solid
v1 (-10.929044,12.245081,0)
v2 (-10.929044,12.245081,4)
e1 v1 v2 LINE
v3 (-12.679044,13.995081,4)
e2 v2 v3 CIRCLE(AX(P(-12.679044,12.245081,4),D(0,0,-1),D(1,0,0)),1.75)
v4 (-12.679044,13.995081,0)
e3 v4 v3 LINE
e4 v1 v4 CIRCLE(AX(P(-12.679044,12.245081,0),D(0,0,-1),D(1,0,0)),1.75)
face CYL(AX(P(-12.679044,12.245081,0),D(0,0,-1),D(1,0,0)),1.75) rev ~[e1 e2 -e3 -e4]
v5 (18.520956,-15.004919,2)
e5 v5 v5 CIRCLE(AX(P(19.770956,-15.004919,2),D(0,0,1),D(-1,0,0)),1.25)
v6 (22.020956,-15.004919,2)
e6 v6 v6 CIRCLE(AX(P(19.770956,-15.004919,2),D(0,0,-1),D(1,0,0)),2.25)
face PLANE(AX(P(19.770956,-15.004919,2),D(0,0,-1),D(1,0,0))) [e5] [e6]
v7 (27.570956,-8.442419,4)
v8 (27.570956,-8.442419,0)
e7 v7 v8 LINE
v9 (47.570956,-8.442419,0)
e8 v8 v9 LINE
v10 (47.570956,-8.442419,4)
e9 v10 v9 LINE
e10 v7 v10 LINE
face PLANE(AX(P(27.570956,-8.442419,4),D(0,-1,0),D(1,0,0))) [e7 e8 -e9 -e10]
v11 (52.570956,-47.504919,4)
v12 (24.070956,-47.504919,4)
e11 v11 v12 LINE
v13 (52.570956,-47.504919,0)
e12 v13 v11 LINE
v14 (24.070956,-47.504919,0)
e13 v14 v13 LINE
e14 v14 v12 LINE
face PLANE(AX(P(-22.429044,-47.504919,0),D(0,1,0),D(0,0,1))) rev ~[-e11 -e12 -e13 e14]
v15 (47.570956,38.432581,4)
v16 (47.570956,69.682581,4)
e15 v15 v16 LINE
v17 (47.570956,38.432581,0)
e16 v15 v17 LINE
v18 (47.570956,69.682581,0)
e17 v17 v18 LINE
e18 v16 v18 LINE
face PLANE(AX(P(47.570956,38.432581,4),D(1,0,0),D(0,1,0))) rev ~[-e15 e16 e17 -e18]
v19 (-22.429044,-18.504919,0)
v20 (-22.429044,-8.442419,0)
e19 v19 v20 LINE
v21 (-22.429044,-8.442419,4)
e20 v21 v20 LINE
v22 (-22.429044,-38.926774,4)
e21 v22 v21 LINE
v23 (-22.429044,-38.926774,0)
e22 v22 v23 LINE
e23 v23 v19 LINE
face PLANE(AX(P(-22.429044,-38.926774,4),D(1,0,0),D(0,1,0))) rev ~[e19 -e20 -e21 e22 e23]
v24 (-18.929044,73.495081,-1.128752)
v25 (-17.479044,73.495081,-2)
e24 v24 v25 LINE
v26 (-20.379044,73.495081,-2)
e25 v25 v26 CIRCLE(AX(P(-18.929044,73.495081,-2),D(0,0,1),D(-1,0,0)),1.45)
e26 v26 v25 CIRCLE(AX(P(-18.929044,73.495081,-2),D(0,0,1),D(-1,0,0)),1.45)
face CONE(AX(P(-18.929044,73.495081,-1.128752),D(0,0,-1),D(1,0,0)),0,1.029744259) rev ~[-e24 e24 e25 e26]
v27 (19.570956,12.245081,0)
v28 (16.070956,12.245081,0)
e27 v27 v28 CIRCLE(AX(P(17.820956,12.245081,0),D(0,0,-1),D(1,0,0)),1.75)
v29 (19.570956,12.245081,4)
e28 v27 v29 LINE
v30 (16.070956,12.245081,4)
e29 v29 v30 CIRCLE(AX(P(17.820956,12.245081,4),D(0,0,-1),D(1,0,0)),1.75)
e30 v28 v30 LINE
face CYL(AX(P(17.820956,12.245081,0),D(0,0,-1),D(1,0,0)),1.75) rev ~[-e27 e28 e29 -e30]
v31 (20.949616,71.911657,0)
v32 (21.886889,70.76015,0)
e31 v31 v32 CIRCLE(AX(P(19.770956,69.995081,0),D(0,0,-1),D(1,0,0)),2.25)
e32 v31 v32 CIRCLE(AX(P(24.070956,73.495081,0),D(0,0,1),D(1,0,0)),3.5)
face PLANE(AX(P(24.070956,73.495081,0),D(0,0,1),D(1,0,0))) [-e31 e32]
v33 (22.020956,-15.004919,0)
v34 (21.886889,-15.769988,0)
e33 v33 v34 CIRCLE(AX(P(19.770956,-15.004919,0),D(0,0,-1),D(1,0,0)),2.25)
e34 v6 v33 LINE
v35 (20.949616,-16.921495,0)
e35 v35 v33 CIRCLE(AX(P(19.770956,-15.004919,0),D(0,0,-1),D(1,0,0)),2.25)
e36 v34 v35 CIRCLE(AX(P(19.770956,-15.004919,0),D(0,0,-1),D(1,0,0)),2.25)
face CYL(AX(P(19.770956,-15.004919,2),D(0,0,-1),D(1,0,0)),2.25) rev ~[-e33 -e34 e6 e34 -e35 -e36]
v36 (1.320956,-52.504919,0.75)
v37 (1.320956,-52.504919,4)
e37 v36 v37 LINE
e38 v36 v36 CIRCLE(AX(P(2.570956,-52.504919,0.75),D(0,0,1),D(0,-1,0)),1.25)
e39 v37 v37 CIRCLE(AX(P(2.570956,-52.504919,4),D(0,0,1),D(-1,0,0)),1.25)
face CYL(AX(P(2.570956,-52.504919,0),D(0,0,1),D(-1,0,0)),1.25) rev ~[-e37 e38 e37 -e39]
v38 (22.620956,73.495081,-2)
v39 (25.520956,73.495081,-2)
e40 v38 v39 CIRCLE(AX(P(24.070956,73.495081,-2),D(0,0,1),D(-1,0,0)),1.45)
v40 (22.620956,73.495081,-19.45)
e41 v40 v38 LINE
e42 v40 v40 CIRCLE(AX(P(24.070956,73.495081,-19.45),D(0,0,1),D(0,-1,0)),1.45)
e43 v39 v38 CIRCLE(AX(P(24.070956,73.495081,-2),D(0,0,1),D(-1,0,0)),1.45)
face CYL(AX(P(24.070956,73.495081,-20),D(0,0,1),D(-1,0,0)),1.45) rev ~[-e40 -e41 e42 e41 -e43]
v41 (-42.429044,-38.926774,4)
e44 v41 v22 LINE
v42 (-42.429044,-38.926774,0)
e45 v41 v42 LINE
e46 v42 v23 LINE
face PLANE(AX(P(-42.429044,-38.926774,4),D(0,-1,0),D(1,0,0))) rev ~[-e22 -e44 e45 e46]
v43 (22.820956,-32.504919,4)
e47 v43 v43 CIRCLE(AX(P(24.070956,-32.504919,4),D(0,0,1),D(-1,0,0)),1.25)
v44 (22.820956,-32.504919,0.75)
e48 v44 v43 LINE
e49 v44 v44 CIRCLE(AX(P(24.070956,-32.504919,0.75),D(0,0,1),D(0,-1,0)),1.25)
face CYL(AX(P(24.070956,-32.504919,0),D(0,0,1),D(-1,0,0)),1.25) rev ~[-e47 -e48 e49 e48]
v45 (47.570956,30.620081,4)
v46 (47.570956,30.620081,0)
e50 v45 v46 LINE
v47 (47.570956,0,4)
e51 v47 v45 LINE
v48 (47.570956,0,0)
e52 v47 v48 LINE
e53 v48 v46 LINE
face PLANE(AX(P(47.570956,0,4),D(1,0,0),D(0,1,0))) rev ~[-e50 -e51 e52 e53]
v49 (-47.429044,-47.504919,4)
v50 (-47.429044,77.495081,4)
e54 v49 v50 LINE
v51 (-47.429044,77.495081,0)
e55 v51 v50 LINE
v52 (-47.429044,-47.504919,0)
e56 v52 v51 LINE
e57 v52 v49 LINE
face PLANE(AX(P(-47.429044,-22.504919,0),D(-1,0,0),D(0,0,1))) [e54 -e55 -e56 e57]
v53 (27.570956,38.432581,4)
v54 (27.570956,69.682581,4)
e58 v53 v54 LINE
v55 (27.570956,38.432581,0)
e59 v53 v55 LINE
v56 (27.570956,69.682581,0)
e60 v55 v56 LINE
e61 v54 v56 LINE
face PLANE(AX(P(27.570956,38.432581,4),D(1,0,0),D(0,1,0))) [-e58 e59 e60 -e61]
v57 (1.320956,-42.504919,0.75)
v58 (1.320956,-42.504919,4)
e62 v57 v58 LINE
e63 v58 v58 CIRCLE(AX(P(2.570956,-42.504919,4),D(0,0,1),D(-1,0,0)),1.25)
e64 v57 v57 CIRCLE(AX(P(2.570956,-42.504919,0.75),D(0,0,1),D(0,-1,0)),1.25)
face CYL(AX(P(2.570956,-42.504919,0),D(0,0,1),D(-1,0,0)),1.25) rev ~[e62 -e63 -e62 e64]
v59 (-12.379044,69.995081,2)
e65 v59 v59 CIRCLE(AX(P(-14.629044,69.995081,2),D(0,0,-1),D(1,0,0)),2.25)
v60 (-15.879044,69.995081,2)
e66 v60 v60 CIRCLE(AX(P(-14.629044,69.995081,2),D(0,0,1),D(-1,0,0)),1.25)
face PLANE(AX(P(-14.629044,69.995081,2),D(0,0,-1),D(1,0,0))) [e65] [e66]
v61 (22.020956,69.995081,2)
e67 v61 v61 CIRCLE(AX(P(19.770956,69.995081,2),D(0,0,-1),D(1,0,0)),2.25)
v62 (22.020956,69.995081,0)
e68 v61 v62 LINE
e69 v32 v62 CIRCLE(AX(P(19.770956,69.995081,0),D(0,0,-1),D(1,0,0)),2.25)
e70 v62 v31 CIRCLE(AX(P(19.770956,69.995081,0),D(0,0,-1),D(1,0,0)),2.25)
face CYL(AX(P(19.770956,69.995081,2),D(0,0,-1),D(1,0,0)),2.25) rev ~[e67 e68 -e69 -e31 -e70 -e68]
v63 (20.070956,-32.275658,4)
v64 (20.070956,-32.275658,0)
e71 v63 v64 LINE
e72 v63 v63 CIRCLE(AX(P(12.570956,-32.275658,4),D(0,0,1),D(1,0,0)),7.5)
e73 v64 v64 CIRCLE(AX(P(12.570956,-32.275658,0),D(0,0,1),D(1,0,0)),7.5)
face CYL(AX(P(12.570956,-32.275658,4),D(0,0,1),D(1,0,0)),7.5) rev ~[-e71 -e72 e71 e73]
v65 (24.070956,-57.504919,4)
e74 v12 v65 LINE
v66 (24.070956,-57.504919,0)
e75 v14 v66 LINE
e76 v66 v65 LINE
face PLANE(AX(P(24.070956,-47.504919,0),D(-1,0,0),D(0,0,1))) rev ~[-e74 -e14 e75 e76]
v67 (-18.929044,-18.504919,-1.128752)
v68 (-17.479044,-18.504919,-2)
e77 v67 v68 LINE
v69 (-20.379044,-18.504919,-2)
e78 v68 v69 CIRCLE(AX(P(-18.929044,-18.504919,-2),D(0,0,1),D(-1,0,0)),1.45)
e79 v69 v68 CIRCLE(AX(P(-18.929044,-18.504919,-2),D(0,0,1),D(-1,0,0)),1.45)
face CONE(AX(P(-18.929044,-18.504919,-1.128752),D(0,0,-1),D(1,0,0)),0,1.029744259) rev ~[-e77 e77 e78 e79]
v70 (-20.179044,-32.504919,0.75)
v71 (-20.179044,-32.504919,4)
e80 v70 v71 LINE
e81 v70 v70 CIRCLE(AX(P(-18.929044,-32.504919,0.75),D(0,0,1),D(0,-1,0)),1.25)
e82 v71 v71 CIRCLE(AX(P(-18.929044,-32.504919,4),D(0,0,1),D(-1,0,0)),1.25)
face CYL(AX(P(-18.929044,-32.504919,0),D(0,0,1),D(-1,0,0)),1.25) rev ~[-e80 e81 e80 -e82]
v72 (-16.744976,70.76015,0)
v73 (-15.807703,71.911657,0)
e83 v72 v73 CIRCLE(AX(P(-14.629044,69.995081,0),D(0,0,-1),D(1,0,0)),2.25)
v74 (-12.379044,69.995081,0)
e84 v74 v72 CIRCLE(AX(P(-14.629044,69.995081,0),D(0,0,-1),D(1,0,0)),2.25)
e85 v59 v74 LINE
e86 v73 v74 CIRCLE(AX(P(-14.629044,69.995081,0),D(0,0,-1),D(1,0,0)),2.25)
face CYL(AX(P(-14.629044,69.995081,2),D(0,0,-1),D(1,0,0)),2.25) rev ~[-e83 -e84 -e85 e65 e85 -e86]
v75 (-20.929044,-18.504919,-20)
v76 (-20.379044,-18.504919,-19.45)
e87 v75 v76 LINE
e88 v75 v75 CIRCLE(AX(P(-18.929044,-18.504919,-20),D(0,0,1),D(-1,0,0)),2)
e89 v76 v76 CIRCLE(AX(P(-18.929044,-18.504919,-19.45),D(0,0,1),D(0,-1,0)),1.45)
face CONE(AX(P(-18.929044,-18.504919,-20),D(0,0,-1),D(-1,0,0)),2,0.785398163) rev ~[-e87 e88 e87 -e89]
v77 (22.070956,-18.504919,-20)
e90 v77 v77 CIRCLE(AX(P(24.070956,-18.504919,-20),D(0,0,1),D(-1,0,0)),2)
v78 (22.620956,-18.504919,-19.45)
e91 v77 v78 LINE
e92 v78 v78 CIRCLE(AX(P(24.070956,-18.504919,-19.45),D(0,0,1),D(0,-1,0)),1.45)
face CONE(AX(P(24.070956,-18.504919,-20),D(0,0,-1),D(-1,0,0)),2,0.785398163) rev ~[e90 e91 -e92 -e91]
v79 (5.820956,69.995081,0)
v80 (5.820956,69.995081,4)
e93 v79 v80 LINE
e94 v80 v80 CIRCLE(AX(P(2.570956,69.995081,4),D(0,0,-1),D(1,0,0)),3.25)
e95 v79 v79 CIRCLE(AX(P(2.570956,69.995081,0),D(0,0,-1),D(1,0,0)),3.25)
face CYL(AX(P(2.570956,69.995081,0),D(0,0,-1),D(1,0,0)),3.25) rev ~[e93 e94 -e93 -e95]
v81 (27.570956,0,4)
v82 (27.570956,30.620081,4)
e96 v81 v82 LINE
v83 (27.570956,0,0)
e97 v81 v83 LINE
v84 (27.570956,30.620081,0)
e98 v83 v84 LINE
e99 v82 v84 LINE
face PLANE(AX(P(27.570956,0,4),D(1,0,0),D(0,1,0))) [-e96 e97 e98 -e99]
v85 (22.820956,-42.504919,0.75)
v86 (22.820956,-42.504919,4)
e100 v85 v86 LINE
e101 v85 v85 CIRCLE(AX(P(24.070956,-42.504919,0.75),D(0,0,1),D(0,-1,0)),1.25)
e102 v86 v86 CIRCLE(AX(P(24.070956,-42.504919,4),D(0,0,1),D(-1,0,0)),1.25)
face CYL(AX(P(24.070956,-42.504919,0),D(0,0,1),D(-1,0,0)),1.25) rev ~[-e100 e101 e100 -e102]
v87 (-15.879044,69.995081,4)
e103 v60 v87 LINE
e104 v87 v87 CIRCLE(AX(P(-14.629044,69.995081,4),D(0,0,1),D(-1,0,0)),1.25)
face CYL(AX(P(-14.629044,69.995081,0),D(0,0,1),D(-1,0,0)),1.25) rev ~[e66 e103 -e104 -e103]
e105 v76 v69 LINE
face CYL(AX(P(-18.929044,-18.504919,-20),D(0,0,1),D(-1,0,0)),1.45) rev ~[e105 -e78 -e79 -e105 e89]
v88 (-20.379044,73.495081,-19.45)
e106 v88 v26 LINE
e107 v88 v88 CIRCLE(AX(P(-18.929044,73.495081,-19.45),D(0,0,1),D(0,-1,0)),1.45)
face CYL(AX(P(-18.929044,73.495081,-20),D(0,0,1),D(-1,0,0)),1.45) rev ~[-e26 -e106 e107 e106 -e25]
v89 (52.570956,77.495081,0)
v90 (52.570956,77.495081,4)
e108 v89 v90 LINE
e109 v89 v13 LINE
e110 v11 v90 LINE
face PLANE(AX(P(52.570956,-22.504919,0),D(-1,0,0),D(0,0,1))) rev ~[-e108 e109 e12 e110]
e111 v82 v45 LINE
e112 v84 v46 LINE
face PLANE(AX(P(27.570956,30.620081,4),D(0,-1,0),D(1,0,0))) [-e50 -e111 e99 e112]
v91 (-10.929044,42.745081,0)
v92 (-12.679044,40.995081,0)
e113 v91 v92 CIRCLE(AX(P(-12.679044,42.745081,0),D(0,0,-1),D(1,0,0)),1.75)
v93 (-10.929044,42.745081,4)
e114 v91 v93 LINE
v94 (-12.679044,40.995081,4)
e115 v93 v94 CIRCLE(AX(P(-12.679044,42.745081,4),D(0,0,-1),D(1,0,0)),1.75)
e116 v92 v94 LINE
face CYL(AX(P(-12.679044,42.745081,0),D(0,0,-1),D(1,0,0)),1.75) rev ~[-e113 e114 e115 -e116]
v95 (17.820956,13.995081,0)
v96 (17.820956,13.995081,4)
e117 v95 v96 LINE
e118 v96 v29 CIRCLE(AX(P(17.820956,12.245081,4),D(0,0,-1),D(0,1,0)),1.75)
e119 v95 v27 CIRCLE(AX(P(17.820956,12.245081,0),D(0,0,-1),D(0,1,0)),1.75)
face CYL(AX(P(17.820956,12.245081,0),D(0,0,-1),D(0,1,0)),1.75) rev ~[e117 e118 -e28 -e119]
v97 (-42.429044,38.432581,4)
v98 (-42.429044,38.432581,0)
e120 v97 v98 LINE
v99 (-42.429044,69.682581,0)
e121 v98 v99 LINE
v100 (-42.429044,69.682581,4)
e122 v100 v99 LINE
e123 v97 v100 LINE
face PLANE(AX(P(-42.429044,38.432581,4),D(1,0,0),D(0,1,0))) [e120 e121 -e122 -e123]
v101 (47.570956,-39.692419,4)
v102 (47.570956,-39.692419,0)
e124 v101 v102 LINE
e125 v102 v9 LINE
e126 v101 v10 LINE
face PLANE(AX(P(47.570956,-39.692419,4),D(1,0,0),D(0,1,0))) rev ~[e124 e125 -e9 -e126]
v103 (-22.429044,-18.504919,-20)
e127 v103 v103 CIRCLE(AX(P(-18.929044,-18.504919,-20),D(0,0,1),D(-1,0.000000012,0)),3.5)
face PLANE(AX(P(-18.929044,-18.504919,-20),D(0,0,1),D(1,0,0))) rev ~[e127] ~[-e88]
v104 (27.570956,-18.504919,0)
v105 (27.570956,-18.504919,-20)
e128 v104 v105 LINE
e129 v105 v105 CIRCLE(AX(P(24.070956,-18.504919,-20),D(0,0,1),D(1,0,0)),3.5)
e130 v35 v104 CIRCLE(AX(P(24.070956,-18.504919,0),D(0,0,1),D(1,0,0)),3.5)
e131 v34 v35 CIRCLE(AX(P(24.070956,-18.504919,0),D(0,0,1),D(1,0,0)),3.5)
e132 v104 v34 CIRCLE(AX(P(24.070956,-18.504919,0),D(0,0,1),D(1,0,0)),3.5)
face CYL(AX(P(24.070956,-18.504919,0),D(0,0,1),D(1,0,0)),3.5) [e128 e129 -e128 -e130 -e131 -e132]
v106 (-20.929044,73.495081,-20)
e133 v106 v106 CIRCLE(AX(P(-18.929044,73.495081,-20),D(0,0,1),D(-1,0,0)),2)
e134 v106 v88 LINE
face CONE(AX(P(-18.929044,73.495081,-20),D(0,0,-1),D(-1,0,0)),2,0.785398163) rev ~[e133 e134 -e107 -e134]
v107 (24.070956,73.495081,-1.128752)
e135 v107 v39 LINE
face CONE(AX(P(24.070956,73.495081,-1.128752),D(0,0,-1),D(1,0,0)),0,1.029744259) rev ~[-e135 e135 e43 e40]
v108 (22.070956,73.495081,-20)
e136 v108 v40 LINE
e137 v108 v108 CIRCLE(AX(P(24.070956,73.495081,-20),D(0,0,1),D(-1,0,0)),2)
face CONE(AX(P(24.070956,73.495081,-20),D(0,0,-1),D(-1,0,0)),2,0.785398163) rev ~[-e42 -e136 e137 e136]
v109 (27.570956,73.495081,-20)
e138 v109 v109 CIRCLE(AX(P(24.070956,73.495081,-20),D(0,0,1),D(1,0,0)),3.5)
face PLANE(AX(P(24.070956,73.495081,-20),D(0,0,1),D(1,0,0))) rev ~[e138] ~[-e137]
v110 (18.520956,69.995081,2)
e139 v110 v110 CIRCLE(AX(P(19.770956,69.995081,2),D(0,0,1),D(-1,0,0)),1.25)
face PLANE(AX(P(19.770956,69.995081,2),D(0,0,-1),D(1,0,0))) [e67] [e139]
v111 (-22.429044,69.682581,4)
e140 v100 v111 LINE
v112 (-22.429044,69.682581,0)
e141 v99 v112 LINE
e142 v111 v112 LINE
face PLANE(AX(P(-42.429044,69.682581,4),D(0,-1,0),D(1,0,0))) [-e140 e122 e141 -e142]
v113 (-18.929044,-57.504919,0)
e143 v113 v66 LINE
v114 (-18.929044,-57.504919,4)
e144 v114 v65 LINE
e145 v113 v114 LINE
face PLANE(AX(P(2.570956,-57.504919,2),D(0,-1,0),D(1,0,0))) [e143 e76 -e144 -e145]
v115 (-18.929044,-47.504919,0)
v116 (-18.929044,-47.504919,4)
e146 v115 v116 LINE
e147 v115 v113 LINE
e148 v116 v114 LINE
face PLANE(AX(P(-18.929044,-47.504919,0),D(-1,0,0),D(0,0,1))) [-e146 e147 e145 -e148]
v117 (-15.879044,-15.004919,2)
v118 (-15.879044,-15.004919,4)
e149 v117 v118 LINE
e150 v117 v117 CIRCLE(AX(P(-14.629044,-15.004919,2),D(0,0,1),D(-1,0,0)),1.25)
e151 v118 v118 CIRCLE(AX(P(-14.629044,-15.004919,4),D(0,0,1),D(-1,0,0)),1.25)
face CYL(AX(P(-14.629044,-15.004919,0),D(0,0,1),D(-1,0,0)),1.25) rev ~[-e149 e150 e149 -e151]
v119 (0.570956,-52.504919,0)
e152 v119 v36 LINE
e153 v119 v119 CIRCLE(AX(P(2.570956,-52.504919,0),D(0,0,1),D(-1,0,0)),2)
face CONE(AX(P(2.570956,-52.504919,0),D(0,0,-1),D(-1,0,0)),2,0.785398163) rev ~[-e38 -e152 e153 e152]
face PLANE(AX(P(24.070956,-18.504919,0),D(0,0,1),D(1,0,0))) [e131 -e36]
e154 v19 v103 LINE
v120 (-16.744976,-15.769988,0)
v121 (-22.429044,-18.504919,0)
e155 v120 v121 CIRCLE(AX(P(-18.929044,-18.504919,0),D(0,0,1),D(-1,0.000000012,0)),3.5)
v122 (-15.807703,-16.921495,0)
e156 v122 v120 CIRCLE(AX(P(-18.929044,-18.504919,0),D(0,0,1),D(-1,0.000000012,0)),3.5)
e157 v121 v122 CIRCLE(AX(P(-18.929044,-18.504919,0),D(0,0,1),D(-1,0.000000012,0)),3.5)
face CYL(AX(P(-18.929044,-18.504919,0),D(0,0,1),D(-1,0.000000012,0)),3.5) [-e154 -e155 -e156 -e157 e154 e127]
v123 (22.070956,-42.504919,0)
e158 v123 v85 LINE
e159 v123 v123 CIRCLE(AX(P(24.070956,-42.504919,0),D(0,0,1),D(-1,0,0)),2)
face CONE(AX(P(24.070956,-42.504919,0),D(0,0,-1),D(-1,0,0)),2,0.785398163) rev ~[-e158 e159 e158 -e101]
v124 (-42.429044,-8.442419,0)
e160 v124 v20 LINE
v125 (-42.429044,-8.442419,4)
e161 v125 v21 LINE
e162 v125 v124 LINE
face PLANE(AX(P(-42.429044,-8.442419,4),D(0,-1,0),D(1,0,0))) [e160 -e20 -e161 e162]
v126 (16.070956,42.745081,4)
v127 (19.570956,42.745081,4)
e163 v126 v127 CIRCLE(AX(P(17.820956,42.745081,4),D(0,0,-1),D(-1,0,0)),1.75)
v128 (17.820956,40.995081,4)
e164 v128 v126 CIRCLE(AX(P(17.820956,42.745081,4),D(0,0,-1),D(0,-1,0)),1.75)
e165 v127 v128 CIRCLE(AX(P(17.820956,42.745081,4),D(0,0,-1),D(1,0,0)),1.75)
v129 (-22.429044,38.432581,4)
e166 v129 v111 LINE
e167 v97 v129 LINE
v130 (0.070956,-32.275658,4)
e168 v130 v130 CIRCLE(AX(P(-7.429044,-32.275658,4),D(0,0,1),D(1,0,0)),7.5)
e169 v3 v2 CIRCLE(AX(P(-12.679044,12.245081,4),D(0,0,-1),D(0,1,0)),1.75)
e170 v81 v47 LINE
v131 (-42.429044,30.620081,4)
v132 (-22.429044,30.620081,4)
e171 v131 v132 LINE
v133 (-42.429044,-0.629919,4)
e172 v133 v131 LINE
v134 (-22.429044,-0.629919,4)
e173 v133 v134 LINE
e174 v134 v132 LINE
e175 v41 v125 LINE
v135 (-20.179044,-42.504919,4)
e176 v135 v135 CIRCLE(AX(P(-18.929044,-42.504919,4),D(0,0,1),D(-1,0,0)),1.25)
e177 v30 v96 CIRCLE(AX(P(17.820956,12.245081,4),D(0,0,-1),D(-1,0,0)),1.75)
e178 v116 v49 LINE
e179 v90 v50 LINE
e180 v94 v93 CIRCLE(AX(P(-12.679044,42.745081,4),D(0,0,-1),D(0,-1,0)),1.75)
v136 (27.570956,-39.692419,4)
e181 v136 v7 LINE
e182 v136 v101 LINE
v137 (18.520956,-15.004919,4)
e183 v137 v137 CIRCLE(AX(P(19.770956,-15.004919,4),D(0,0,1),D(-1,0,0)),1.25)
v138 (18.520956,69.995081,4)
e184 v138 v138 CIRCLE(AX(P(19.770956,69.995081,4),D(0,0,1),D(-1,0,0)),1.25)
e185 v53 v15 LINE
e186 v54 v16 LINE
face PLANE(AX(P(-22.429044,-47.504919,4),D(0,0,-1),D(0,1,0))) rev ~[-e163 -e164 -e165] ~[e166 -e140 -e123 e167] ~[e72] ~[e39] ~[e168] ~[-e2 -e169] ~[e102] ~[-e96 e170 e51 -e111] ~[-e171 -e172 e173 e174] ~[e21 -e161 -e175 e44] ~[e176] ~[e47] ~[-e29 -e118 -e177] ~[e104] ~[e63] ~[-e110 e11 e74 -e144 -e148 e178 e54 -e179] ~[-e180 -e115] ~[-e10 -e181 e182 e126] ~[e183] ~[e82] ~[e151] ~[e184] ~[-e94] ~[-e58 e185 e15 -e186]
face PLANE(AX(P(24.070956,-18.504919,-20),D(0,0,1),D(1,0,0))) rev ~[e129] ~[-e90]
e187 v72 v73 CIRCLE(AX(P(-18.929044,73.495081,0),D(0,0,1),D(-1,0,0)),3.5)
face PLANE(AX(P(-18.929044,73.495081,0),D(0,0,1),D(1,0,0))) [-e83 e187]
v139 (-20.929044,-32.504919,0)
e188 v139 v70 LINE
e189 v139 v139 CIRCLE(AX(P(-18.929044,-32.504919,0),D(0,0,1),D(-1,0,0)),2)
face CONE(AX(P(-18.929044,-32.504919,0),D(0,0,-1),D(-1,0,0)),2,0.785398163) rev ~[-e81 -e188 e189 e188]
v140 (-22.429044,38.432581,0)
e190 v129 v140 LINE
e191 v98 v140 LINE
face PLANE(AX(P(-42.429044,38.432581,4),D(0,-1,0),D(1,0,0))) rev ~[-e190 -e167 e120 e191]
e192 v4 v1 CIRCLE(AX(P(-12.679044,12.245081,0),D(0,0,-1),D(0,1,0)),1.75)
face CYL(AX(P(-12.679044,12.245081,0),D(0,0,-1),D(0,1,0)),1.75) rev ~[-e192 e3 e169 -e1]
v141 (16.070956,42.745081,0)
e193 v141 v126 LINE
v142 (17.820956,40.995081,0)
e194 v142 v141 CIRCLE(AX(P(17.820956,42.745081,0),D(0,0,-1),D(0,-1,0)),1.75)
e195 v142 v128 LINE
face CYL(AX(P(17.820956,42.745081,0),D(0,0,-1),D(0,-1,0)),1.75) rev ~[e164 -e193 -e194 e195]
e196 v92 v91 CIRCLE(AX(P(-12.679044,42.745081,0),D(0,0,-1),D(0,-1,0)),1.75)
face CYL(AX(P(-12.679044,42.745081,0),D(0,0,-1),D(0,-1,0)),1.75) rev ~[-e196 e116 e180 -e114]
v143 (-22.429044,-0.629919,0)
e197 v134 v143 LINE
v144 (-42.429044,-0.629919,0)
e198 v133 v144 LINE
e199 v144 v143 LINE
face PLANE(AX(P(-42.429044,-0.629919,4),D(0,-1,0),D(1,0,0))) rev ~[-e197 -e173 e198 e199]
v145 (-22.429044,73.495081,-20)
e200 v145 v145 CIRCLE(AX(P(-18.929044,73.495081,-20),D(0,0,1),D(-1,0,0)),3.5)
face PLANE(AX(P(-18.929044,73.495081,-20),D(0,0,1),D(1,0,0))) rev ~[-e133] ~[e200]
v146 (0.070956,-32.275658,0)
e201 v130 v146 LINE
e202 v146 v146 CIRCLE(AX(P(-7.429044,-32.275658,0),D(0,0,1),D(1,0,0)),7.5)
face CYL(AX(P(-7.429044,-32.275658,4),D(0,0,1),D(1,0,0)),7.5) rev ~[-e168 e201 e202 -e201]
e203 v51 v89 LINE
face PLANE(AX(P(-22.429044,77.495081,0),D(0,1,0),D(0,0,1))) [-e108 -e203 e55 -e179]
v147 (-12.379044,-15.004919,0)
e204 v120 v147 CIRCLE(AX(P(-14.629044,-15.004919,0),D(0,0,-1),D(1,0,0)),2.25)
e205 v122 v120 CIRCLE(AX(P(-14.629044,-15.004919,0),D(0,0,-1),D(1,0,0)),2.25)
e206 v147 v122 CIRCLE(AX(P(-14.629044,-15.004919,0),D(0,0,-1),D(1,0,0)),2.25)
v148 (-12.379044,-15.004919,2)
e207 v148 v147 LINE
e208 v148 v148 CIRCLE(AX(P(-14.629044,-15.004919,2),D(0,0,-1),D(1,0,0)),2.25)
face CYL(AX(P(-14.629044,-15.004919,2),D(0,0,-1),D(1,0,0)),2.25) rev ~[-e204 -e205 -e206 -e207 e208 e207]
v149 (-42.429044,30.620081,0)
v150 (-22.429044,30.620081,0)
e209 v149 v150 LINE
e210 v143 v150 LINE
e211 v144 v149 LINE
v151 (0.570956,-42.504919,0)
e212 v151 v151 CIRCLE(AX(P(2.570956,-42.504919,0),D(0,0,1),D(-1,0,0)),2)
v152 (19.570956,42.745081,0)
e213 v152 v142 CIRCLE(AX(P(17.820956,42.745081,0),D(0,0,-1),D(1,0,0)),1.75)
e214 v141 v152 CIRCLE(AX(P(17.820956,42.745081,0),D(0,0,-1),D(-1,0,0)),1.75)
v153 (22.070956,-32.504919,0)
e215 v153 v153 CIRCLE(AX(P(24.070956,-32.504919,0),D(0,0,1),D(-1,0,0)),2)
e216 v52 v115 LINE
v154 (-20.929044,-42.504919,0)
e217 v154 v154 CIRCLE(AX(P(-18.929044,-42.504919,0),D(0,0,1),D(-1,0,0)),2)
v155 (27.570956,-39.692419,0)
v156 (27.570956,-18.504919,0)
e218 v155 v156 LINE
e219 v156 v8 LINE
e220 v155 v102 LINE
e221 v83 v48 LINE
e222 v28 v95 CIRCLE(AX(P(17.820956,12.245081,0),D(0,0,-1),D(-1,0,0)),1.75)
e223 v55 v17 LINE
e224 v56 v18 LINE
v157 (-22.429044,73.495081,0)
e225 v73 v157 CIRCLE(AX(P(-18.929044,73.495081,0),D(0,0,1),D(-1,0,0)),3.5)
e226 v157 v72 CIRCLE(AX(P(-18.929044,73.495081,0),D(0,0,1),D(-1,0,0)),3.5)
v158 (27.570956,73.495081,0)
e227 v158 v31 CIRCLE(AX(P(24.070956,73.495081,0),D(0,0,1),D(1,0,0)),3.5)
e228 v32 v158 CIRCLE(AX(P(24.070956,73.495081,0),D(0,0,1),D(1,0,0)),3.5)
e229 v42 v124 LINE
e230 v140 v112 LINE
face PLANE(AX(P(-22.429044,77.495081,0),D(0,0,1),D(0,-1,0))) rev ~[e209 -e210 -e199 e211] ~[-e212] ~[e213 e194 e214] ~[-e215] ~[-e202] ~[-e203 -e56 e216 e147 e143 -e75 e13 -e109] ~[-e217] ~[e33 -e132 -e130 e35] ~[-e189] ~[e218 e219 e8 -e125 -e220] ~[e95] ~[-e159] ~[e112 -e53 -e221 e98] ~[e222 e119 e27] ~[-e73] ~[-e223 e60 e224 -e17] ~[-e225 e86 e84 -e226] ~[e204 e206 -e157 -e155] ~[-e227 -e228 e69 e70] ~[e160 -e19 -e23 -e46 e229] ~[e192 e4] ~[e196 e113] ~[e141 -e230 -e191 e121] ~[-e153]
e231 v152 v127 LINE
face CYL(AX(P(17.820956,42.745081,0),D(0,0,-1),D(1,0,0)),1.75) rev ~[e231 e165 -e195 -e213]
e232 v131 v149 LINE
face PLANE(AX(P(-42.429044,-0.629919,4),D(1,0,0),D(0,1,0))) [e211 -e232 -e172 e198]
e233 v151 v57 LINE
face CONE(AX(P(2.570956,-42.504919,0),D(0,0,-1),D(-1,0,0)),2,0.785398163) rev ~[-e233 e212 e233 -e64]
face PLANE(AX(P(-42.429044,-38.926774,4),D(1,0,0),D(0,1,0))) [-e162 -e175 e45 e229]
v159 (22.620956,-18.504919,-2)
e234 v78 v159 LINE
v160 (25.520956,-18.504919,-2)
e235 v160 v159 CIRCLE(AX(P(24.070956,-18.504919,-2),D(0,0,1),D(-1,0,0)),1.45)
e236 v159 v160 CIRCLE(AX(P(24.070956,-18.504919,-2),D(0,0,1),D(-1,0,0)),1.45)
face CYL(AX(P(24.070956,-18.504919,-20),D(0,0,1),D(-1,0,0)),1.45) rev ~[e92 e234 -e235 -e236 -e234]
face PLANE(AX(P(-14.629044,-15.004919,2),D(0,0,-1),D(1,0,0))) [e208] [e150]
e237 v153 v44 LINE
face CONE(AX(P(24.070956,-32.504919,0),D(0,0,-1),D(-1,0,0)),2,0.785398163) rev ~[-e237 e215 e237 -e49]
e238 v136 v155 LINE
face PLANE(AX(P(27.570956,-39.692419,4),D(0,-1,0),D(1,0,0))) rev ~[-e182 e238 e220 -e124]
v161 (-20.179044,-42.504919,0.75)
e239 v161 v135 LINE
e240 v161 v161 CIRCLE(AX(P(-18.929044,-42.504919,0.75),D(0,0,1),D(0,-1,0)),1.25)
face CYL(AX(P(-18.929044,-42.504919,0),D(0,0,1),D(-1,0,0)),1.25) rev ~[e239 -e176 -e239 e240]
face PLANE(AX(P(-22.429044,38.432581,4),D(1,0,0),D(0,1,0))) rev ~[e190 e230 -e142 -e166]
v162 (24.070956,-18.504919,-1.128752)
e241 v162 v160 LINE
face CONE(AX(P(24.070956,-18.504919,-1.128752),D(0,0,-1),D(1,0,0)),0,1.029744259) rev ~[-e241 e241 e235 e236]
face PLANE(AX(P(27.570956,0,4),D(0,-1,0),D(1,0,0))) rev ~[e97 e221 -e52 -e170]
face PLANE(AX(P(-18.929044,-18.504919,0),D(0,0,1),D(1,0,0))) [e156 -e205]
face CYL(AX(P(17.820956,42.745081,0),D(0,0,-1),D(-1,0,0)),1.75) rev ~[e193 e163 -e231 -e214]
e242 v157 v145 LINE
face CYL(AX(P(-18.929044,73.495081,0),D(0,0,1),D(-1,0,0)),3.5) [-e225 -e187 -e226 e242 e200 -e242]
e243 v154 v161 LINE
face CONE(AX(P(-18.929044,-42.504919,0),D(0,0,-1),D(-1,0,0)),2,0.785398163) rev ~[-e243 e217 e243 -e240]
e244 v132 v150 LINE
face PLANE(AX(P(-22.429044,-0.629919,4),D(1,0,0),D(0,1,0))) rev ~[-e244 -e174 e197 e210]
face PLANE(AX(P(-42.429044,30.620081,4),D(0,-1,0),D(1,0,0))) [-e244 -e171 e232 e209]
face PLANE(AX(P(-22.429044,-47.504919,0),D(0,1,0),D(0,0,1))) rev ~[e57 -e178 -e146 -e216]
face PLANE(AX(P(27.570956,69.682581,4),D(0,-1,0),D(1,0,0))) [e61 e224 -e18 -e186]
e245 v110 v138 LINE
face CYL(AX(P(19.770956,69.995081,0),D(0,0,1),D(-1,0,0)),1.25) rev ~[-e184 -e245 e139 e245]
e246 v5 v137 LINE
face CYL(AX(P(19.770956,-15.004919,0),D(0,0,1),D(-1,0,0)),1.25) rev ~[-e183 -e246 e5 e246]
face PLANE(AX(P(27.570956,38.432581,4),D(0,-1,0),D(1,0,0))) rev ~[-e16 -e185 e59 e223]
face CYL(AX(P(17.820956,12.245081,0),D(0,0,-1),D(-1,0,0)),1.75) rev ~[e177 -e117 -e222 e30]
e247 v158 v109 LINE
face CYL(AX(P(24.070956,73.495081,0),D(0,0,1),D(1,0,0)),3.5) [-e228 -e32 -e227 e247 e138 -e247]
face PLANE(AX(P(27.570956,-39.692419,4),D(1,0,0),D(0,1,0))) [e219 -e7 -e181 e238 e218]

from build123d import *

# Parameters (mm, degrees)
F4_R            = 3.5
F5_DEPTH        = 4
F6_D            = 2.5
F6_CBORE_D      = 4.5
F6_CBORE_DEPTH  = 2
F7_DEPTH        = 20
F9_D            = 2.9
F9_DEPTH        = 18
F9_CSINK_D      = 4
F9_CSINK_ANGLE  = 90
F9_TIP          = 0.8712478976
F11_D           = 2.9
F11_DEPTH       = 18
F11_CSINK_D     = 4
F11_CSINK_ANGLE = 90
F11_TIP         = 0.8712478976
F13_D           = 2.9
F13_DEPTH       = 18
F13_CSINK_D     = 4
F13_CSINK_ANGLE = 90
F13_TIP         = 0.8712478976
F15_D           = 2.9
F15_DEPTH       = 18
F15_CSINK_D     = 4
F15_CSINK_ANGLE = 90
F15_TIP         = 0.8712478976
F16_DEPTH       = 25
F18_DEPTH       = 25
F19_DEPTH       = 25
F20_W           = 20
F20_H           = 30.4843550548
F20_H_2         = 31.25
F20_H_3         = 30.620081059
F21_DEPTH       = 4
F17_R           = 7.5
F22_DEPTH       = 4
F23_W           = 43
F23_H           = 4
F24_DEPTH       = 10
F26_D           = 2.5
F26_DEPTH       = 15
F26_CSINK_D     = 4
F26_CSINK_ANGLE = 90
F26_TIP         = 0.7510757738
F27_D           = 2.5
F27_DEPTH       = 15
F27_CSINK_D     = 4
F27_CSINK_ANGLE = 90
F27_TIP         = 0.7510757738


with BuildPart() as f5:
    # F4 (on Top) → F5 (new body)
    with BuildSketch(Plane.XY):
        Polygon((27.5709562153, 77.495081059), (-22.4290437847, 77.495081059), (-22.4290437847, 73.495081059), (-22.4290437847, -18.5049188996), (-22.4290437847, -22.504918941), (27.5709562153, -22.504918941), (27.5709562153, -18.504918941), (27.5709562153, 73.495081059), align=None)
        with BuildLine():
            ThreePointArc((-15.4290437847, -18.504918941), (-18.9290438054, -22.004918941), (-22.4290437847, -18.5049188996))
            ThreePointArc((-22.4290437847, -18.5049188996), (-18.9290437641, -15.004918941), (-15.4290437847, -18.504918941))
        make_face(mode=Mode.SUBTRACT)
        with Locations((24.0709562153, -18.504918941)):
            Circle(F4_R, mode=Mode.SUBTRACT)
        with BuildLine():
            Line((-3.6008084906, 42.745081059), (-14.6290437847, 69.995081059))
            Line((-14.6290437847, 69.995081059), (-0.6790437847, 69.995081059))
            ThreePointArc((-0.6790437847, 69.995081059), (2.5709562153, 73.245081059), (5.8209562153, 69.995081059))
            Line((5.8209562153, 69.995081059), (19.7709562153, 69.995081059))
            Line((19.7709562153, 69.995081059), (8.7427209211, 42.745081059))
            Line((8.7427209211, 42.745081059), (16.0709562153, 42.745081059))
            ThreePointArc((16.0709562153, 42.745081059), (17.8209562153, 44.495081059), (19.5709562153, 42.745081059))
            ThreePointArc((19.5709562153, 42.745081059), (19.0583930823, 41.507644192), (17.8209562153, 40.995081059))
            Line((17.8209562153, 40.995081059), (17.8209562153, 13.995081059))
            ThreePointArc((17.8209562153, 13.995081059), (19.0583930823, 13.4825179261), (19.5709562153, 12.245081059))
            ThreePointArc((19.5709562153, 12.245081059), (17.8209562153, 10.495081059), (16.0709562153, 12.245081059))
            Line((16.0709562153, 12.245081059), (8.7427209211, 12.245081059))
            Line((8.7427209211, 12.245081059), (-3.6008084906, 12.245081059))
            Line((-3.6008084906, 12.245081059), (-10.9290437847, 12.245081059))
            ThreePointArc((-10.9290437847, 12.245081059), (-13.9164806518, 11.007644192), (-12.6790437847, 13.995081059))
            Line((-12.6790437847, 13.995081059), (-12.6790437847, 40.995081059))
            ThreePointArc((-12.6790437847, 40.995081059), (-13.9164806518, 43.9825179261), (-10.9290437847, 42.745081059))
            Line((-10.9290437847, 42.745081059), (-3.6008084906, 42.745081059))
        make_face(mode=Mode.SUBTRACT)
        with BuildLine():
            ThreePointArc((-15.4290437847, 73.495081059), (-18.9290437847, 69.995081059), (-22.4290437847, 73.495081059))
            ThreePointArc((-22.4290437847, 73.495081059), (-18.9290437847, 76.995081059), (-15.4290437847, 73.495081059))
        make_face(mode=Mode.SUBTRACT)
        with Locations((24.0709562153, 73.495081059)):
            Circle(F4_R, mode=Mode.SUBTRACT)
        with BuildLine():
            ThreePointArc((-15.4290437847, -18.504918941), (-18.9290437641, -15.004918941), (-22.4290437847, -18.5049188996))
            ThreePointArc((-22.4290437847, -18.5049188996), (-18.9290438054, -22.004918941), (-15.4290437847, -18.504918941))
        make_face()
        with Locations((24.0709562153, -18.504918941)):
            Circle(F4_R)
        with BuildLine():
            ThreePointArc((-15.4290437847, 73.495081059), (-18.9290437847, 76.995081059), (-22.4290437847, 73.495081059))
            ThreePointArc((-22.4290437847, 73.495081059), (-18.9290437847, 69.995081059), (-15.4290437847, 73.495081059))
        make_face()
        with Locations((24.0709562153, 73.495081059)):
            Circle(F4_R)
        with BuildLine():
            Line((8.7427209211, 42.745081059), (2.5709562153, 27.495081059))
            Line((2.5709562153, 27.495081059), (8.7427209211, 12.245081059))
            Line((8.7427209211, 12.245081059), (16.0709562153, 12.245081059))
            ThreePointArc((16.0709562153, 12.245081059), (16.5835193482, 13.4825179261), (17.8209562153, 13.995081059))
            Line((17.8209562153, 13.995081059), (17.8209562153, 40.995081059))
            ThreePointArc((17.8209562153, 40.995081059), (16.5835193482, 41.507644192), (16.0709562153, 42.745081059))
            Line((16.0709562153, 42.745081059), (8.7427209211, 42.745081059))
        make_face()
        with BuildLine():
            Line((2.5709562153, 27.495081059), (-3.6008084906, 42.745081059))
            Line((-3.6008084906, 42.745081059), (-10.9290437847, 42.745081059))
            ThreePointArc((-10.9290437847, 42.745081059), (-11.4416069177, 41.507644192), (-12.6790437847, 40.995081059))
            Line((-12.6790437847, 40.995081059), (-12.6790437847, 13.995081059))
            ThreePointArc((-12.6790437847, 13.995081059), (-11.4416069177, 13.4825179261), (-10.9290437847, 12.245081059))
            Line((-10.9290437847, 12.245081059), (-3.6008084906, 12.245081059))
            Line((-3.6008084906, 12.245081059), (2.5709562153, 27.495081059))
        make_face()
        Polygon((8.7427209211, 42.745081059), (-3.6008084906, 42.745081059), (2.5709562153, 27.495081059), align=None)
        Polygon((8.7427209211, 12.245081059), (2.5709562153, 27.495081059), (-3.6008084906, 12.245081059), align=None)
        with BuildLine():
            Line((-0.6790437847, 69.995081059), (-14.6290437847, 69.995081059))
            Line((-14.6290437847, 69.995081059), (-3.6008084906, 42.745081059))
            Line((-3.6008084906, 42.745081059), (8.7427209211, 42.745081059))
            Line((8.7427209211, 42.745081059), (19.7709562153, 69.995081059))
            Line((19.7709562153, 69.995081059), (5.8209562153, 69.995081059))
            ThreePointArc((5.8209562153, 69.995081059), (2.5709562153, 66.745081059), (-0.6790437847, 69.995081059))
        make_face()
    extrude(amount=F5_DEPTH)

    # F6 (through all)
    with Locations(Plane(origin=(0, 0, 0), x_dir=(1, 0, 0), z_dir=(0, 0, -1))):
        with Locations((19.7709562153, -69.995081059), (19.7709562153, 15.004918941), (-14.6290437847, 15.004918941), (-14.6290437847, -69.995081059)):
            CounterBoreHole(F6_D / 2, F6_CBORE_D / 2, F6_CBORE_DEPTH)

    # F4 (on Top) → F7 (join)
    with BuildSketch(Plane.XY):
        with BuildLine():
            ThreePointArc((-15.4290437847, -18.504918941), (-18.9290437641, -15.004918941), (-22.4290437847, -18.5049188996))
            ThreePointArc((-22.4290437847, -18.5049188996), (-18.9290438054, -22.004918941), (-15.4290437847, -18.504918941))
        make_face()
        with Locations((24.0709562153, -18.504918941)):
            Circle(F4_R)
        with BuildLine():
            ThreePointArc((-15.4290437847, 73.495081059), (-18.9290437847, 76.995081059), (-22.4290437847, 73.495081059))
            ThreePointArc((-22.4290437847, 73.495081059), (-18.9290437847, 69.995081059), (-15.4290437847, 73.495081059))
        make_face()
        with Locations((24.0709562153, 73.495081059)):
            Circle(F4_R)
    extrude(amount=-F7_DEPTH)

    # F9
    with Locations(Plane(origin=(0, 0, -20), x_dir=(1, 0, 0), z_dir=(0, 0, -1))):
        with Locations((-18.9290437847, -73.495081059)):
            CounterSinkHole(F9_D / 2, F9_CSINK_D / 2, depth=F9_DEPTH, counter_sink_angle=F9_CSINK_ANGLE)
            with Locations((0, 0, -(F9_DEPTH + F9_TIP / 2))):  # 118° drill point
                Cone(0, F9_D / 2, F9_TIP, mode=Mode.SUBTRACT)

    # F11
    with Locations(Plane(origin=(0, 0, -20), x_dir=(1, 0, 0), z_dir=(0, 0, -1))):
        with Locations((-18.9290437847, 18.504918941)):
            CounterSinkHole(F11_D / 2, F11_CSINK_D / 2, depth=F11_DEPTH, counter_sink_angle=F11_CSINK_ANGLE)
            with Locations((0, 0, -(F11_DEPTH + F11_TIP / 2))):  # 118° drill point
                Cone(0, F11_D / 2, F11_TIP, mode=Mode.SUBTRACT)

    # F13
    with Locations(Plane(origin=(0, 0, -20), x_dir=(1, 0, 0), z_dir=(0, 0, -1))):
        with Locations((24.0709562153, -73.495081059)):
            CounterSinkHole(F13_D / 2, F13_CSINK_D / 2, depth=F13_DEPTH, counter_sink_angle=F13_CSINK_ANGLE)
            with Locations((0, 0, -(F13_DEPTH + F13_TIP / 2))):  # 118° drill point
                Cone(0, F13_D / 2, F13_TIP, mode=Mode.SUBTRACT)

    # F15
    with Locations(Plane(origin=(0, 0, -20), x_dir=(1, 0, 0), z_dir=(0, 0, -1))):
        with Locations((24.0709562153, 18.504918941)):
            CounterSinkHole(F15_D / 2, F15_CSINK_D / 2, depth=F15_DEPTH, counter_sink_angle=F15_CSINK_ANGLE)
            with Locations((0, 0, -(F15_DEPTH + F15_TIP / 2))):  # 118° drill point
                Cone(0, F15_D / 2, F15_TIP, mode=Mode.SUBTRACT)

    # F16 (add): a face of the model
    f16_faces = [f5.faces().sort_by_distance(p)[0] for p in [
        (2.5709562153, -22.504918941, 2),
    ]]
    extrude(f16_faces, amount=F16_DEPTH)

    # F18 (add): a face of the model
    f18_faces = [f5.faces().sort_by_distance(p)[0] for p in [
        (27.5709562153, 14.995081059, 2),
    ]]
    extrude(f18_faces, amount=F18_DEPTH)

    # F19 (add): a face of the model
    f19_faces = [f5.faces().sort_by_distance(p)[0] for p in [
        (-22.4290437847, 14.995081059, 2),
    ]]
    extrude(f19_faces, amount=F19_DEPTH)

    # F20 (on face) → F21 (cut)
    with BuildSketch(Plane.XY.offset(4)):
        with Locations((-32.4290437847, -23.6845964684)):
            Rectangle(F20_W, F20_H)
        with Locations((-32.4290437847, 14.995081059)):
            Rectangle(F20_W, F20_H_2)
        with Locations((-32.4290437847, 54.057581059)):
            Rectangle(F20_W, F20_H_2)
        with Locations((37.5709562153, 54.057581059)):
            Rectangle(F20_W, F20_H_2)
        with Locations((37.5709562153, 15.3100405295)):
            Rectangle(F20_W, F20_H_3)
        with Locations((37.5709562153, -24.067418941)):
            Rectangle(F20_W, F20_H_2)
    extrude(amount=-F21_DEPTH, mode=Mode.SUBTRACT)

    # F17 (on face) → F22 (cut)
    with BuildSketch(Plane.XY.offset(4)):
        with Locations((-7.4290437847, -32.2756583249)):
            Circle(F17_R)
        with Locations((12.5709562153, -32.2756583249)):
            Circle(F17_R)
    extrude(amount=-F22_DEPTH, mode=Mode.SUBTRACT)

    # F23 (on face) → F24 (join)
    with BuildSketch(Plane.XZ.offset(47.504918941)):
        with Locations((2.5709562153, 2)):
            Rectangle(F23_W, F23_H)
    extrude(amount=F24_DEPTH)

    # F26
    with Locations(Plane(origin=(0, 0, 0), x_dir=(1, 0, 0), z_dir=(0, 0, -1))):
        with Locations((2.5709562153, 52.504918941), (2.5709562153, 42.504918941)):
            CounterSinkHole(F26_D / 2, F26_CSINK_D / 2, depth=F26_DEPTH, counter_sink_angle=F26_CSINK_ANGLE)
            with Locations((0, 0, -(F26_DEPTH + F26_TIP / 2))):  # 118° drill point
                Cone(0, F26_D / 2, F26_TIP, mode=Mode.SUBTRACT)

    # F27
    with Locations(Plane(origin=(0, 0, 0), x_dir=(1, 0, 0), z_dir=(0, 0, -1))):
        with Locations((-18.9290437847, 42.504918941), (-18.9290437847, 32.504918941), (24.0709562153, 32.504918941), (24.0709562153, 42.504918941)):
            CounterSinkHole(F27_D / 2, F27_CSINK_D / 2, depth=F27_DEPTH, counter_sink_angle=F27_CSINK_ANGLE)
            with Locations((0, 0, -(F27_DEPTH + F27_TIP / 2))):  # 118° drill point
                Cone(0, F27_D / 2, F27_TIP, mode=Mode.SUBTRACT)


solid = f5.part
